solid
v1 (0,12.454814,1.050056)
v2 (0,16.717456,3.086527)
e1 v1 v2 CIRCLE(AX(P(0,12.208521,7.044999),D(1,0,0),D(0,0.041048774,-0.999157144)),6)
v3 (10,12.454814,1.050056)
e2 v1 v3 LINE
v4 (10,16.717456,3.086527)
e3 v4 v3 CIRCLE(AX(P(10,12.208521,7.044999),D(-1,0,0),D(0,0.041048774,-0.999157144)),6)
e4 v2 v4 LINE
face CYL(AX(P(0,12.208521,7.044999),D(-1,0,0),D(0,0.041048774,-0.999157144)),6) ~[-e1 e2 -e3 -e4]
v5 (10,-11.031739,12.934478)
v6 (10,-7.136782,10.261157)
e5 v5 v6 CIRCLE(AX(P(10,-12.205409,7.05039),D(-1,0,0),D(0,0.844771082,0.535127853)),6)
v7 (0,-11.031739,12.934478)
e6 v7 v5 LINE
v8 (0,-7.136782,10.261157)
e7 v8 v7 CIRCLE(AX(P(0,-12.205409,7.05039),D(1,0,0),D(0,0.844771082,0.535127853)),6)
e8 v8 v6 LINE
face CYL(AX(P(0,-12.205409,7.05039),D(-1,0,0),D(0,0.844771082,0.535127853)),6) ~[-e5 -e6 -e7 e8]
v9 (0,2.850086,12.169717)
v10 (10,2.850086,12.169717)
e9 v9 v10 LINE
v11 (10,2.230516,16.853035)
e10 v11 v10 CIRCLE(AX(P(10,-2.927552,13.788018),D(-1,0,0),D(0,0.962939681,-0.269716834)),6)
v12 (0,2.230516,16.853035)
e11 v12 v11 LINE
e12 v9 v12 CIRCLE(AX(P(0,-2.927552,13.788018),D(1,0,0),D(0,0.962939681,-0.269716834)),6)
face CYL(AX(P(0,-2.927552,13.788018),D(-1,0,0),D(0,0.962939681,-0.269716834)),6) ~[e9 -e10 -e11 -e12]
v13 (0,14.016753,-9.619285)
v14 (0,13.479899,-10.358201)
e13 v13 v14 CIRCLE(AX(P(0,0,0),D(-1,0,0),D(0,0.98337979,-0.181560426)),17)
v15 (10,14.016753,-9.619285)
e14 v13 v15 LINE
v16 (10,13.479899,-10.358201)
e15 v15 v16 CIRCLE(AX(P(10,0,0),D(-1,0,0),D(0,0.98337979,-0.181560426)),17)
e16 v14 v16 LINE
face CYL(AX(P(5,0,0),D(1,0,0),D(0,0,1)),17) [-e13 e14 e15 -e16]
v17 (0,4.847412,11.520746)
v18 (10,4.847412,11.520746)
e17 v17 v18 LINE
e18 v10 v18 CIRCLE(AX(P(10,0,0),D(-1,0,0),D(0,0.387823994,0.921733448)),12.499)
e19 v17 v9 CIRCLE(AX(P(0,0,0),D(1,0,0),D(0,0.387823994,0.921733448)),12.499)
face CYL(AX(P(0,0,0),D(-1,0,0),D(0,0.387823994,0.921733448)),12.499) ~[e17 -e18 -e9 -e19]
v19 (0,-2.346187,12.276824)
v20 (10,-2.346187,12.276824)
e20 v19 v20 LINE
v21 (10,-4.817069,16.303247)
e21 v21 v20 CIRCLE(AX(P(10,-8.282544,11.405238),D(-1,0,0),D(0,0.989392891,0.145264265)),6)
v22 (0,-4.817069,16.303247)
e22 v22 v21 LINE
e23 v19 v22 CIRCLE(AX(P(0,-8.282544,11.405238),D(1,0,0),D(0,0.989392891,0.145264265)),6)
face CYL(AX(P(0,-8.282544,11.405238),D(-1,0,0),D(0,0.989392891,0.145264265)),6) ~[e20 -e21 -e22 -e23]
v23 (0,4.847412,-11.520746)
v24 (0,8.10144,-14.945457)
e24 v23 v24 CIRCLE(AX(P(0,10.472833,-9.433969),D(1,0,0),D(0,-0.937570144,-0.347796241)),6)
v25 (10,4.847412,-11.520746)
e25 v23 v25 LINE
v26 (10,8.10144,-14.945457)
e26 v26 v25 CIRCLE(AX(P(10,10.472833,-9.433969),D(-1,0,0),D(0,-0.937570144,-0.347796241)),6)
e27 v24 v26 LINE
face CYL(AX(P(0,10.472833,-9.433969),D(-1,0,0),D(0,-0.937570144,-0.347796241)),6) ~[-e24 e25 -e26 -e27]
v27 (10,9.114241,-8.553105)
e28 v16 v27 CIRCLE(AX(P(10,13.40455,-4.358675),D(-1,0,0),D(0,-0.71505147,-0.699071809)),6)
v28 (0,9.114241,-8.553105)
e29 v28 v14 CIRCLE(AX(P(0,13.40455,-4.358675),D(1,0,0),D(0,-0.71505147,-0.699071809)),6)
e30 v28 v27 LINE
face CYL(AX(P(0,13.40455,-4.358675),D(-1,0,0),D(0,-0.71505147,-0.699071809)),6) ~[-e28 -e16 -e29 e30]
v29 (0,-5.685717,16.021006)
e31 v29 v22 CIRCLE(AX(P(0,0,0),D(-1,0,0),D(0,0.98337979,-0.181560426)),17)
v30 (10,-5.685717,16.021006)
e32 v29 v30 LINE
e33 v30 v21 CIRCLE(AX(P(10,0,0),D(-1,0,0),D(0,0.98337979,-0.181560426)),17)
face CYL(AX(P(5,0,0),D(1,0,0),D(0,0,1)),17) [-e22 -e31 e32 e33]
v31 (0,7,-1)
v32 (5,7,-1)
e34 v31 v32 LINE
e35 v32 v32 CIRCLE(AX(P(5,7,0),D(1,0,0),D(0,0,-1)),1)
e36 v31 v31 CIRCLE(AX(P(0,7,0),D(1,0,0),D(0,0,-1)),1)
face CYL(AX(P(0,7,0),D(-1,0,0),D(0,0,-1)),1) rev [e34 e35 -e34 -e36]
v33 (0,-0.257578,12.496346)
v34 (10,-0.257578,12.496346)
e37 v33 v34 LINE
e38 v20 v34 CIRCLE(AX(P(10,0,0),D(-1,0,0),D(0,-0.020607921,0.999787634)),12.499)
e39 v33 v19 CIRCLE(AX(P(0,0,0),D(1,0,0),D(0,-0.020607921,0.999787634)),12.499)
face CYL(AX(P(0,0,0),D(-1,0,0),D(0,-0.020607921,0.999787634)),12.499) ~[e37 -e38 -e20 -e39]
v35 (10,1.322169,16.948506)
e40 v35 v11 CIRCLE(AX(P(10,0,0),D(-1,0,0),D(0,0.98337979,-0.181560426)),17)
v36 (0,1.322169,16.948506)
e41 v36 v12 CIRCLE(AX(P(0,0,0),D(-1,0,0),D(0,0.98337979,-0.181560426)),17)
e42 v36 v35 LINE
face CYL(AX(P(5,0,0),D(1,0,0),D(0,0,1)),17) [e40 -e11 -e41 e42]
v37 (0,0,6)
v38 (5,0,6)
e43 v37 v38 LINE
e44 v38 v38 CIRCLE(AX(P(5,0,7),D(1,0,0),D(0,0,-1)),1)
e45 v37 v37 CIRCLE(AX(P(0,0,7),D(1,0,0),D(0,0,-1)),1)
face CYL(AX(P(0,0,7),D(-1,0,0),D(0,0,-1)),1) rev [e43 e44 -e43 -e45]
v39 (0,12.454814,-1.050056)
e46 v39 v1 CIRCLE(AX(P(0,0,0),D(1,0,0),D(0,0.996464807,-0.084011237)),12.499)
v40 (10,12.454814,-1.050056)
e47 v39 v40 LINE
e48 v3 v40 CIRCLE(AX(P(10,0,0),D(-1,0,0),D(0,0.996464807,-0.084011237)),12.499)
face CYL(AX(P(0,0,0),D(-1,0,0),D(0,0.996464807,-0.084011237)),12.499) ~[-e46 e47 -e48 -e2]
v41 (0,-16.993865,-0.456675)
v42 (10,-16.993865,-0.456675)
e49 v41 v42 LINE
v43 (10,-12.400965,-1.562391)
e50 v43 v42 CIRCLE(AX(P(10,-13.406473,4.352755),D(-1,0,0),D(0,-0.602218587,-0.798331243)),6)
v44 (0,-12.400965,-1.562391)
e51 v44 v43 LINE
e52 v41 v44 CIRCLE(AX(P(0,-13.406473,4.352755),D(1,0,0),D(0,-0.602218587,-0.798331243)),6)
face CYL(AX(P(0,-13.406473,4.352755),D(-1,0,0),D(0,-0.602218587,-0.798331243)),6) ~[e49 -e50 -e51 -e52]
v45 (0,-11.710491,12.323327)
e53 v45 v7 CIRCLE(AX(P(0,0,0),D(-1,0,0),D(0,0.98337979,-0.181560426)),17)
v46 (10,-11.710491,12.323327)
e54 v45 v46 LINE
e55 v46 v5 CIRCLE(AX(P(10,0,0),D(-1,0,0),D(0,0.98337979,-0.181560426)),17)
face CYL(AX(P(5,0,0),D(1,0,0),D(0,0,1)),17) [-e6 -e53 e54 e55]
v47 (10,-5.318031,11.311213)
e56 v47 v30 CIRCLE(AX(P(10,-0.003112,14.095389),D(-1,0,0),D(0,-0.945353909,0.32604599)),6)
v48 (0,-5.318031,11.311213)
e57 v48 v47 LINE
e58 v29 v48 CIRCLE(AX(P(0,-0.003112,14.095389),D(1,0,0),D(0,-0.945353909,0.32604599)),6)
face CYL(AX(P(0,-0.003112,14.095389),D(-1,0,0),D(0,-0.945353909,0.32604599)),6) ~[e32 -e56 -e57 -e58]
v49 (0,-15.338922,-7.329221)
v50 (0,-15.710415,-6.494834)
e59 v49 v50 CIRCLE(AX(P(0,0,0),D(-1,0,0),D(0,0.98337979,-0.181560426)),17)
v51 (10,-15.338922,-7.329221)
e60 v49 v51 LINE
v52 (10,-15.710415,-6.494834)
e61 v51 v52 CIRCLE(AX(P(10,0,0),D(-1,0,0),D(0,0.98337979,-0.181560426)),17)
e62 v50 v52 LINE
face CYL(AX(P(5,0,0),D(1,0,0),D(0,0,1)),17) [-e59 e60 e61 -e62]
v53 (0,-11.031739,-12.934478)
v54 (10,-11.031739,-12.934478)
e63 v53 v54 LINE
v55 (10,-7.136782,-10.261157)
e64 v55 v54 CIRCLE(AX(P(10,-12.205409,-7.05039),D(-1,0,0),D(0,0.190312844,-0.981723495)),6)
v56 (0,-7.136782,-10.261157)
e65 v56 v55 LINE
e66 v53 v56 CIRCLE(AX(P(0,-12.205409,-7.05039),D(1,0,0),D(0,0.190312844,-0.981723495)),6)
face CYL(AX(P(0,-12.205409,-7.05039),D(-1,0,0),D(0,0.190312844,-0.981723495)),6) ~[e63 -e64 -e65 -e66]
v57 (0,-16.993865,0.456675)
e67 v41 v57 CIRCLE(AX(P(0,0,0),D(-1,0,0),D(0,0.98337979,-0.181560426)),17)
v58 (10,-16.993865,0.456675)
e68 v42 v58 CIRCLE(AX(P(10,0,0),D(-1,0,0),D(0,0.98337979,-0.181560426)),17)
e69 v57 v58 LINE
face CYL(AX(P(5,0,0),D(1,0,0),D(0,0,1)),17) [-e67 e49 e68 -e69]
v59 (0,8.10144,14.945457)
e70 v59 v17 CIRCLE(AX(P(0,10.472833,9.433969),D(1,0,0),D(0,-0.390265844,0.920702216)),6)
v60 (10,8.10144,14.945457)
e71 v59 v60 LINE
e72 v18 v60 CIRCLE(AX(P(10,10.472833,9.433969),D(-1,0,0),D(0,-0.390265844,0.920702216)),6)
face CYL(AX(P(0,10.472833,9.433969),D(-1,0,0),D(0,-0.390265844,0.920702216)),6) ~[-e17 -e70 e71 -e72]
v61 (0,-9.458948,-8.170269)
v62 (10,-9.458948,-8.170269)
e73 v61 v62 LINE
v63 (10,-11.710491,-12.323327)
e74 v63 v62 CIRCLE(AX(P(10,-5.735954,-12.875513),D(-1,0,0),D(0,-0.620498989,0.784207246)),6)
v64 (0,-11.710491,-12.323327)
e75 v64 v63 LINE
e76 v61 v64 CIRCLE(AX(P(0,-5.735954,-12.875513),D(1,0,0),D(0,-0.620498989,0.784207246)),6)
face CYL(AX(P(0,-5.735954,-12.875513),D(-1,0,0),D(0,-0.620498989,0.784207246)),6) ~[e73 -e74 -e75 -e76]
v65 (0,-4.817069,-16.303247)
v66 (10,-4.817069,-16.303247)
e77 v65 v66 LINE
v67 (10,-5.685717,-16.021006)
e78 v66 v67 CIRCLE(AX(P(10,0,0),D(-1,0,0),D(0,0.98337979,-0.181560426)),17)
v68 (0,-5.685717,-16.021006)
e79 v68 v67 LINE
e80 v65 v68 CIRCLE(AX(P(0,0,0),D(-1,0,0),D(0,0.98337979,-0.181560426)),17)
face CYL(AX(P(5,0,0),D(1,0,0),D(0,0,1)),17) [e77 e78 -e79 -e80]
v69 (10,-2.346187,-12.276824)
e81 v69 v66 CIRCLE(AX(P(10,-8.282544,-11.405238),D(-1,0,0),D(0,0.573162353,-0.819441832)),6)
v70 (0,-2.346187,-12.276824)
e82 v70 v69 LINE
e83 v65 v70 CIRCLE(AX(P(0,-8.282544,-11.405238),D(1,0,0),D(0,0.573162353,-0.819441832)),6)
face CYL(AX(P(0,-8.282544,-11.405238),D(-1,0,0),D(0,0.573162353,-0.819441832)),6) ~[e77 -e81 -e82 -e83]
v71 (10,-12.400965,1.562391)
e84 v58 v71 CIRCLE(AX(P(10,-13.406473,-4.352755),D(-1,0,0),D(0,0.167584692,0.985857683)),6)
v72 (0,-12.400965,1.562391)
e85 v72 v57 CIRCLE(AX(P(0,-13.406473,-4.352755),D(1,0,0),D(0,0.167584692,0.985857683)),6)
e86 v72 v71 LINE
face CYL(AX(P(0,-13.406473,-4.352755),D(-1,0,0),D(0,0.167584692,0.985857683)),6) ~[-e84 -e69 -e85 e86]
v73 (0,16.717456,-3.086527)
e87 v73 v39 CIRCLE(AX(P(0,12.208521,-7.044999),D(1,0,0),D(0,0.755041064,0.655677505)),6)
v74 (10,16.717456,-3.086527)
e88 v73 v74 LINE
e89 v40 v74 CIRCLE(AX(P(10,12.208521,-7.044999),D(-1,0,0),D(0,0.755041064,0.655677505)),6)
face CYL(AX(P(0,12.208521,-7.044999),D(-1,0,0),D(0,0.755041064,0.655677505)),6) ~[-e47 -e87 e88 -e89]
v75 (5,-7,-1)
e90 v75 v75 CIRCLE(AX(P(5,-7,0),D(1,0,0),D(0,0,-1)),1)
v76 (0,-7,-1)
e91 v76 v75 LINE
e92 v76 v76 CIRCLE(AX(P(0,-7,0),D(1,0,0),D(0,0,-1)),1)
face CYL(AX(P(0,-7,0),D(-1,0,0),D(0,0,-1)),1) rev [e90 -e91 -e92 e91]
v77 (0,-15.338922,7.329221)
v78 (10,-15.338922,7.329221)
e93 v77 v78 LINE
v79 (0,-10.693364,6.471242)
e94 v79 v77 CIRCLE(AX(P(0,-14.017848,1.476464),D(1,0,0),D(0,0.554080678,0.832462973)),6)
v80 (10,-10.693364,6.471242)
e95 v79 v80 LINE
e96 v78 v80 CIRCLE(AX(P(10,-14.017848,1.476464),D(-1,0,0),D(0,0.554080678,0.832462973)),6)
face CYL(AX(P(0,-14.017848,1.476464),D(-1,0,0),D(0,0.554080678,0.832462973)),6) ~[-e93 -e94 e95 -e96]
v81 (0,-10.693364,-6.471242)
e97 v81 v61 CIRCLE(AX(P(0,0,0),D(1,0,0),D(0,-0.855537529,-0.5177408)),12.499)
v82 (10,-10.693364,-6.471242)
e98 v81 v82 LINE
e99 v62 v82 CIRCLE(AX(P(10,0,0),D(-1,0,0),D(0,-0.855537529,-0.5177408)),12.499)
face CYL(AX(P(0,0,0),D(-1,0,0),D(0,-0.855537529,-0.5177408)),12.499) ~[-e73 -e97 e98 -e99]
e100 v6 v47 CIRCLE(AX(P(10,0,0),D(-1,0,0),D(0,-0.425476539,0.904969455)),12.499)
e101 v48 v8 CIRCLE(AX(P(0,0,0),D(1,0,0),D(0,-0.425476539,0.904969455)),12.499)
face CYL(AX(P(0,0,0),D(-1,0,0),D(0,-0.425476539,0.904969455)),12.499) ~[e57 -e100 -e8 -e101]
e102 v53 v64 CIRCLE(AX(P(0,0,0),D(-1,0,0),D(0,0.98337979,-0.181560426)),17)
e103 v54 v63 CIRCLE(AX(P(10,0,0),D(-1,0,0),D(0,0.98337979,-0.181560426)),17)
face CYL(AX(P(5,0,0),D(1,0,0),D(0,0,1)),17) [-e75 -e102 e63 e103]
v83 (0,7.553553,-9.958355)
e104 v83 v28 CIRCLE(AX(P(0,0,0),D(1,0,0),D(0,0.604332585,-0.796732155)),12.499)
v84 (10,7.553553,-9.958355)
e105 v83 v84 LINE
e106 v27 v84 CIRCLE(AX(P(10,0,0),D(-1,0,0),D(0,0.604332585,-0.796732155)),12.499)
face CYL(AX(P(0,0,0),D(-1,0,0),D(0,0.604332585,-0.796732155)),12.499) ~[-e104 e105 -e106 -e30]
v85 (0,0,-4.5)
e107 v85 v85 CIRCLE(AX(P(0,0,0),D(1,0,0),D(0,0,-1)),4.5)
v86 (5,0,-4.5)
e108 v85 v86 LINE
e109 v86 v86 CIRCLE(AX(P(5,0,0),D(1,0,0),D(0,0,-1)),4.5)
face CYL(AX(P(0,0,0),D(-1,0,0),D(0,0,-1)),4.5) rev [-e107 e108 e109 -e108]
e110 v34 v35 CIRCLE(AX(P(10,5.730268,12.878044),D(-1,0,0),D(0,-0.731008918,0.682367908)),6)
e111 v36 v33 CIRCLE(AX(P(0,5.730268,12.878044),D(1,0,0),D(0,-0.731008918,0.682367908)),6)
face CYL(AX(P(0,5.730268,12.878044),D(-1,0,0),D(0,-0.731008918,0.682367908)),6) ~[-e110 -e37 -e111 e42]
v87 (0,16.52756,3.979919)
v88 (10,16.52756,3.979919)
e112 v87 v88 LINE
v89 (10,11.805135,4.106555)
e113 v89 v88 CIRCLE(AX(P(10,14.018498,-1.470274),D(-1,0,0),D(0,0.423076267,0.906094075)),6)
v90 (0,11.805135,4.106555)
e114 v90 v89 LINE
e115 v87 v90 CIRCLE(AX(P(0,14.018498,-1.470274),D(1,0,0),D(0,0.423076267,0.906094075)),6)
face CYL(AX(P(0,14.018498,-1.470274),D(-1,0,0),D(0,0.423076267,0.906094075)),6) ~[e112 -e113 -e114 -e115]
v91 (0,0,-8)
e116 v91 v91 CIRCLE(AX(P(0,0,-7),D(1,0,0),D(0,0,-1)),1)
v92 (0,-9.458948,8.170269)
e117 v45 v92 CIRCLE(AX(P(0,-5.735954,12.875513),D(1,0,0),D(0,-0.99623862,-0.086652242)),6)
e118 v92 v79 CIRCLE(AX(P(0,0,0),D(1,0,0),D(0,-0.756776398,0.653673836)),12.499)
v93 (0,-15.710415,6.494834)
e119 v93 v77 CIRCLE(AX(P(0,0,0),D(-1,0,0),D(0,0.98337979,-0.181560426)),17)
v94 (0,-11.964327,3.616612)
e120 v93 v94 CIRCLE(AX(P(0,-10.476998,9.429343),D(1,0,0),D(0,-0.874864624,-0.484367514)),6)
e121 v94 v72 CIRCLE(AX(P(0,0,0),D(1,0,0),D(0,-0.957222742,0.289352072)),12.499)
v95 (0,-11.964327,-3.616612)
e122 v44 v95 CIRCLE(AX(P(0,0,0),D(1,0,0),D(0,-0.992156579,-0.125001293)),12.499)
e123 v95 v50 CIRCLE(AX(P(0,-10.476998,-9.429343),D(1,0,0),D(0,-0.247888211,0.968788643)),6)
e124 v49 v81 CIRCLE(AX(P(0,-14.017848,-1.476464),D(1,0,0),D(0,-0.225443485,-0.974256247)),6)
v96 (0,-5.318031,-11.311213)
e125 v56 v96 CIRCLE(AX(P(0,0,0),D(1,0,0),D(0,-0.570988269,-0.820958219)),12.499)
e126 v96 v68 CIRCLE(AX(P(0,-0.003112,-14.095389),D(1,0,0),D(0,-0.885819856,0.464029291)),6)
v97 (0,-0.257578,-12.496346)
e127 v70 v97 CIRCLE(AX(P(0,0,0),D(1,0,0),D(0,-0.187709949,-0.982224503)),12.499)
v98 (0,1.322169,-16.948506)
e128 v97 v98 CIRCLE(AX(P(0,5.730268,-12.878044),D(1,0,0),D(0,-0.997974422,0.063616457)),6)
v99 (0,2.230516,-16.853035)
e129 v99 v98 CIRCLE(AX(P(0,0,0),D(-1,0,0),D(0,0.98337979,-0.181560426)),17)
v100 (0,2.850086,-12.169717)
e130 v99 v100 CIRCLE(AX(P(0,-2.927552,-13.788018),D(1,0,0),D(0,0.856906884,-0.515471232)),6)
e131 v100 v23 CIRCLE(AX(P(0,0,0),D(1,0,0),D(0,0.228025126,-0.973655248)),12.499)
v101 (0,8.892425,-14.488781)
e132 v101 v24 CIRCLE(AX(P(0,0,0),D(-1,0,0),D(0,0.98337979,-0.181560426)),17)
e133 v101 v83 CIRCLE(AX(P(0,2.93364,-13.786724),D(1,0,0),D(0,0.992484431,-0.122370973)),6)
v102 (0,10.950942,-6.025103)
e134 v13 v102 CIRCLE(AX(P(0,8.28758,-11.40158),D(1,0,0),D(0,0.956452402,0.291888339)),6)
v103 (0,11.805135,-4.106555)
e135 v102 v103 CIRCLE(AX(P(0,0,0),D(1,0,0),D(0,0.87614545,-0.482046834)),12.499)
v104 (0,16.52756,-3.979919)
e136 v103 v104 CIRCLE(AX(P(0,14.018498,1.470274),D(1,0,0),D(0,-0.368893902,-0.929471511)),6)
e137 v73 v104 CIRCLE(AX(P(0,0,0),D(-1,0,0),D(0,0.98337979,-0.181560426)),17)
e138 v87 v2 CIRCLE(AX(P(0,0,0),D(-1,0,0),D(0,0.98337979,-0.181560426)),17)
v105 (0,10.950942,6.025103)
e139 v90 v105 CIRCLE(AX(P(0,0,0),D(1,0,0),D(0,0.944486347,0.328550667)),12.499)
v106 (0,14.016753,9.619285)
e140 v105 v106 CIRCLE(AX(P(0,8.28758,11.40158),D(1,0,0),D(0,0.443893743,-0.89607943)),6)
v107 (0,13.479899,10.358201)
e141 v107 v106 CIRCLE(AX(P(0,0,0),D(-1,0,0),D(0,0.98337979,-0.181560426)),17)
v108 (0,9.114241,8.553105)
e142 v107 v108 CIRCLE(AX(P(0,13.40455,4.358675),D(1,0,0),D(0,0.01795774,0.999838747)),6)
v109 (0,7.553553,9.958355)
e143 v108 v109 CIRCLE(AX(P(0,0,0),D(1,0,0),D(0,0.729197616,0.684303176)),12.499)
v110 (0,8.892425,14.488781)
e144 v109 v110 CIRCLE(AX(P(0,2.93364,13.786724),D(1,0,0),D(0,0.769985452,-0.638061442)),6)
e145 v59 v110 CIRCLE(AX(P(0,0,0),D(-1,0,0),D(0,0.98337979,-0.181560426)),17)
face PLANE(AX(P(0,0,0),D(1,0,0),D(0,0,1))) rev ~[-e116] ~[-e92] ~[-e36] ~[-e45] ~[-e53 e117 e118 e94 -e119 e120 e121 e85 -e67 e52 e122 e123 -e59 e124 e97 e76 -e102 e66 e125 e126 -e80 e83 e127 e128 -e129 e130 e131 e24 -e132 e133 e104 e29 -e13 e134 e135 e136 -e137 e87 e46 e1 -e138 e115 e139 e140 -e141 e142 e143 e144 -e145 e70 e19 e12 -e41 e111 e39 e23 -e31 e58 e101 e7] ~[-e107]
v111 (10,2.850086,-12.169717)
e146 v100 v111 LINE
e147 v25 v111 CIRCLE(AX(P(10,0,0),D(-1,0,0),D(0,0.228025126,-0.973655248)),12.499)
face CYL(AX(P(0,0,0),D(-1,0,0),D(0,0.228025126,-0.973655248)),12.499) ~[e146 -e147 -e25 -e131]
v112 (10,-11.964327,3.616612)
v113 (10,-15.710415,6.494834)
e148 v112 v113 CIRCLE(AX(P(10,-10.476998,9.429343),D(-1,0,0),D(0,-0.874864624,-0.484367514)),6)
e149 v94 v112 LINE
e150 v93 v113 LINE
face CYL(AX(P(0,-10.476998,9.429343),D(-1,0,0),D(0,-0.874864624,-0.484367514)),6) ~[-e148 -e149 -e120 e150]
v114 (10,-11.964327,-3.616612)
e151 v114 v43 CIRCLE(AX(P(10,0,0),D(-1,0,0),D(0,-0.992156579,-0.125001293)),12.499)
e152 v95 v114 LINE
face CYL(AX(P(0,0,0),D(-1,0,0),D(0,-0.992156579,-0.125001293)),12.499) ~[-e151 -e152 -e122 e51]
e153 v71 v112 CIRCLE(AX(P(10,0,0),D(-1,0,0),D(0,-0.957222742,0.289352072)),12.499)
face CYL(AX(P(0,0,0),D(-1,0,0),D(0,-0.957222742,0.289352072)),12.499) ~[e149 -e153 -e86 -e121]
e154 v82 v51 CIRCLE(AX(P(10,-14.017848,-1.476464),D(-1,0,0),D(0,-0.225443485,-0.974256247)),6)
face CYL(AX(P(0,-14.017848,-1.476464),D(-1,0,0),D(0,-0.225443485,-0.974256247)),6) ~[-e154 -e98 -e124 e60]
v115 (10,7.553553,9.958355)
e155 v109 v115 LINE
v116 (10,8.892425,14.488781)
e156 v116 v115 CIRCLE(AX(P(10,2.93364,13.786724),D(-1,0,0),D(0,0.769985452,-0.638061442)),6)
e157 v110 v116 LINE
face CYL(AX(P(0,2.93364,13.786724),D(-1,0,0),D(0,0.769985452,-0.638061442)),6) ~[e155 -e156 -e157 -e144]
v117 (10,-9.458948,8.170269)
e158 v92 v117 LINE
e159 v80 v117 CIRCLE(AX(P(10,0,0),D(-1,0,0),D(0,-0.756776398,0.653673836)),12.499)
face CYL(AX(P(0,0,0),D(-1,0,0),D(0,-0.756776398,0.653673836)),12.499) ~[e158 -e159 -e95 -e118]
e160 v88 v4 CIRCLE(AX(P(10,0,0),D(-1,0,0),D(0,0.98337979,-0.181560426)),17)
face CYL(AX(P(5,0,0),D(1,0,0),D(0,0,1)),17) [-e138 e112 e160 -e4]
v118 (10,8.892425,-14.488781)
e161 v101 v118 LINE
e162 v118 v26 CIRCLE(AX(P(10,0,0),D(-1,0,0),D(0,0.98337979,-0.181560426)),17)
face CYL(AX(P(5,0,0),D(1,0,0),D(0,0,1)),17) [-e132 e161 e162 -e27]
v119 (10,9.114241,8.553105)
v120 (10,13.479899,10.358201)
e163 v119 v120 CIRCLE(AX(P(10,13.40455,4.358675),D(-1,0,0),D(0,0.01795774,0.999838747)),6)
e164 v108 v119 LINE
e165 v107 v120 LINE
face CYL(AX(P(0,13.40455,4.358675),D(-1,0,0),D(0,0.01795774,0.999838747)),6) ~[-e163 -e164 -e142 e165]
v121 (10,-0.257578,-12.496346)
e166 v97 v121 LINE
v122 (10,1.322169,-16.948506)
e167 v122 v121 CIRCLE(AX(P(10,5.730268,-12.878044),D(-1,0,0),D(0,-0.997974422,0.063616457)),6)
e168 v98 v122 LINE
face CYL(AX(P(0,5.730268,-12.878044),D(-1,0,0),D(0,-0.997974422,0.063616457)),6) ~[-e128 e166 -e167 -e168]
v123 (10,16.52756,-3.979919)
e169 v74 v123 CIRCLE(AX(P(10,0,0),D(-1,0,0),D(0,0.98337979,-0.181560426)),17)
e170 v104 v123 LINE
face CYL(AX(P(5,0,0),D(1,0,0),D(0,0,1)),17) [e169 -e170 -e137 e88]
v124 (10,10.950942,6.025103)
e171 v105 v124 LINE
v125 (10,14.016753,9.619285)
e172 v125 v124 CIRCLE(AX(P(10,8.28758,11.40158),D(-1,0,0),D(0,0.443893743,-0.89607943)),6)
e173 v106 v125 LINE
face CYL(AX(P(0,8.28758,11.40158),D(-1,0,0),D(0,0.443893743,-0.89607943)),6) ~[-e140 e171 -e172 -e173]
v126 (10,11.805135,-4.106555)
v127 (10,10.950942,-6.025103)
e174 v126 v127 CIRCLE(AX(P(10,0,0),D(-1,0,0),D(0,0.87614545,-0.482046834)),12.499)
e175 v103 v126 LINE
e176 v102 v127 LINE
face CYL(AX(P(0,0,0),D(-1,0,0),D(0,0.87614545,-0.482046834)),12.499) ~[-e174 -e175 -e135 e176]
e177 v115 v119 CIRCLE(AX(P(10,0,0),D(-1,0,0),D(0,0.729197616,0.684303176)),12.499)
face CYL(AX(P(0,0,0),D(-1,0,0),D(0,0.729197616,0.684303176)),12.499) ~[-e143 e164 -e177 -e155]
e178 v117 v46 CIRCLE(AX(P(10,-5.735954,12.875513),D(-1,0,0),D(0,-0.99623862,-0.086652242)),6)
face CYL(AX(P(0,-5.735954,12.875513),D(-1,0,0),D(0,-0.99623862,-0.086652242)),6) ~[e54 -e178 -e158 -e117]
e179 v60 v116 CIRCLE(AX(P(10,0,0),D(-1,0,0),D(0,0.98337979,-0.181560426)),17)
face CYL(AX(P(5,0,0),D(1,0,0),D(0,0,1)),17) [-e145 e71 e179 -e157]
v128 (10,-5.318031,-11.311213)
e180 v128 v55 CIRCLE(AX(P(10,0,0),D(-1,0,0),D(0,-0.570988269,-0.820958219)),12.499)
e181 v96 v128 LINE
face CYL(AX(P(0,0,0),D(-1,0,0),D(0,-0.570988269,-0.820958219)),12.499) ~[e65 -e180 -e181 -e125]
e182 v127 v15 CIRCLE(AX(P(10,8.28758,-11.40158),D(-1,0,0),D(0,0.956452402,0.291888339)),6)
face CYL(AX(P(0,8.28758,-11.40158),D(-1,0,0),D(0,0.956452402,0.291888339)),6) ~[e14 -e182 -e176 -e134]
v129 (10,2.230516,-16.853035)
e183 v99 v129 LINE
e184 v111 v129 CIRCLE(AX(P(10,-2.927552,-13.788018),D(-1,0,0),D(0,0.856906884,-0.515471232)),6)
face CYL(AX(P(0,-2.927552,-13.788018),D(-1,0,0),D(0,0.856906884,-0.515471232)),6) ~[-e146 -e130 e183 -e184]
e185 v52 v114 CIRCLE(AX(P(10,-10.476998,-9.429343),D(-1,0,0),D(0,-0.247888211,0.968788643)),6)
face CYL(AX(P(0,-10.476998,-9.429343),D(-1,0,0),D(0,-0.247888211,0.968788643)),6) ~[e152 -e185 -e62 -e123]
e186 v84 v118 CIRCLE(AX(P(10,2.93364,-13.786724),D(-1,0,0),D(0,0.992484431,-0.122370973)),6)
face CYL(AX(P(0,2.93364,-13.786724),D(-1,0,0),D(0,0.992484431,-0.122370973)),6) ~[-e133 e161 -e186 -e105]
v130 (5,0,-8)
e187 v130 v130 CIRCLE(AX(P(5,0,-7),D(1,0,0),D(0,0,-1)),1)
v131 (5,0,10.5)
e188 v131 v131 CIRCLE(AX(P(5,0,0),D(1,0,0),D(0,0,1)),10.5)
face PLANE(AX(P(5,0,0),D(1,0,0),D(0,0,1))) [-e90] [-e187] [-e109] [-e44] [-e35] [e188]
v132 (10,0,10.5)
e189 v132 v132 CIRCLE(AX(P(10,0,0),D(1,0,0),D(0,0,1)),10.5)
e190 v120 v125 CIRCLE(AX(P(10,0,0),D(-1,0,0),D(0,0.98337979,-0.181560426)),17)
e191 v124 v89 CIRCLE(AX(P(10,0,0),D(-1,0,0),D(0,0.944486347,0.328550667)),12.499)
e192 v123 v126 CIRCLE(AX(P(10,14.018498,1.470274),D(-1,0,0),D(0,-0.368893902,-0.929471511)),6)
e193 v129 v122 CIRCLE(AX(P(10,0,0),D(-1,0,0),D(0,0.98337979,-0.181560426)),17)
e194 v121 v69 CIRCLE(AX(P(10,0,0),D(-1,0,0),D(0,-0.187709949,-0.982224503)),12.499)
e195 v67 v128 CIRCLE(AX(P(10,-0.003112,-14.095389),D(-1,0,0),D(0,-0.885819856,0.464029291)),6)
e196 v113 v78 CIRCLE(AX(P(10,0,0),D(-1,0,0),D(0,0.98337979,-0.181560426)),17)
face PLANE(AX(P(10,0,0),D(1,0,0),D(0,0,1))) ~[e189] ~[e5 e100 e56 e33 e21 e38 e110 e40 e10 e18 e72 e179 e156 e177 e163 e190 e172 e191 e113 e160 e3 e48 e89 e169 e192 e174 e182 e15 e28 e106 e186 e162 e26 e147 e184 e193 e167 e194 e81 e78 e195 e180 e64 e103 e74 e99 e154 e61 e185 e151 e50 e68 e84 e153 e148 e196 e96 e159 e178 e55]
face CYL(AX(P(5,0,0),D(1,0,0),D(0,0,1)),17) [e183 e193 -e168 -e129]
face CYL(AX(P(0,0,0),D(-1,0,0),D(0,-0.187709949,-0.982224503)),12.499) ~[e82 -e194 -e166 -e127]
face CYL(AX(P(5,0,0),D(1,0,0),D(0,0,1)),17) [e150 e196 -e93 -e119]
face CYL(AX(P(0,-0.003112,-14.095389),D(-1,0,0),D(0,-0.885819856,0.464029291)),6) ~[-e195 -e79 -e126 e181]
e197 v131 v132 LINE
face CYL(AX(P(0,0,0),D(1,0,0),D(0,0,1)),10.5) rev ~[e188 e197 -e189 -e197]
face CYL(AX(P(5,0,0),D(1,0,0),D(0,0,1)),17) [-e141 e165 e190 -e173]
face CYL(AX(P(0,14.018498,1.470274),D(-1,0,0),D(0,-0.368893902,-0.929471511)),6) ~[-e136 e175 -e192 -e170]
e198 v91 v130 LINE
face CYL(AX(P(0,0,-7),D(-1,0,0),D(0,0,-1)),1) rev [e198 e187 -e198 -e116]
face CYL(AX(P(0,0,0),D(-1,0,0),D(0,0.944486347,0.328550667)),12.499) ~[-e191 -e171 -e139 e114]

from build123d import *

# Parameters (mm, degrees)
BASPROSKE_W         = 10
BASPROSKE_H         = 17
TOOTHCUT_DEPTH      = 27.038433133
TEETHCUTS_COUNT     = 15
BORSKE_R            = 10.5
BORE_DEPTH          = 10
SKETCH1_R           = 10.5
SKETCH1_R_2         = 1
SKETCH1_R_3         = 4.5
BOSS_EXTRUDE1_DEPTH = 5


with BuildPart() as part:
    # BasProSke → Base-Revolve (revolve)
    with BuildSketch(Plane(origin=(0, 0, 0), x_dir=(1, 0, 0), z_dir=(0, 1, 0)), mode=Mode.PRIVATE) as base_revolve_sk:
        with Locations((5, 8.5)):
            Rectangle(BASPROSKE_W, BASPROSKE_H)
    revolve(base_revolve_sk.sketch.rotate(Axis((-10, 0, 0), (1, 0, 0)), 180), axis=Axis((-10, 0, 0), (1, 0, 0)))

    # TooCutSke → ToothCut (cut, through all)
    with BuildSketch(Plane(origin=(0, 0, 0), x_dir=(0, 0, -1), z_dir=(1, 0, 0))):
        with BuildLine():
            ThreePointArc((1.050056448, 12.454813626), (0, 12.499), (-1.050056448, 12.454813626))
            ThreePointArc((-1.050056448, 12.454813626), (-1.638118106, 14.809604533), (-3.110934279, 16.73876737))
            ThreePointArc((-3.110934279, 16.73876737), (0, 17.0254), (3.110934279, 16.73876737))
            ThreePointArc((3.110934279, 16.73876737), (1.638118106, 14.809604533), (1.050056448, 12.454813626))
        make_face()
    toothcut = extrude(amount=TOOTHCUT_DEPTH, mode=Mode.SUBTRACT)

    # TeethCuts: ToothCut ×15 about axis
    teethcuts_axis = Axis((0, 0, 0), (1, 0, 0))
    for i in range(1, TEETHCUTS_COUNT):
        add(toothcut.rotate(teethcuts_axis, i * 360 / TEETHCUTS_COUNT), mode=Mode.SUBTRACT)

    # BorSke → Bore (cut, symmetric)
    with BuildSketch(Plane(origin=(0, 0, 0), x_dir=(0, 0, -1), z_dir=(1, 0, 0))):
        with Locations(Location((0, 0, 0), (0, 0, 180))):
            Circle(BORSKE_R)
    extrude(amount=BORE_DEPTH, both=True, mode=Mode.SUBTRACT)

    # Sketch1 → Boss-Extrude1 (add)
    with BuildSketch(Plane(origin=(0, 0, 0), x_dir=(0, 0, -1), z_dir=(1, 0, 0))):
        with Locations(Location((0, 0, 0), (0, 0, 180))):
            Circle(SKETCH1_R)
        with Locations((7, 0)):
            Circle(SKETCH1_R_2, mode=Mode.SUBTRACT)
        with Locations((-7, 0)):
            Circle(SKETCH1_R_2, mode=Mode.SUBTRACT)
        with Locations((0, 7)):
            Circle(SKETCH1_R_2, mode=Mode.SUBTRACT)
        with Locations((0, -7)):
            Circle(SKETCH1_R_2, mode=Mode.SUBTRACT)
        Circle(SKETCH1_R_3, mode=Mode.SUBTRACT)
    extrude(amount=BOSS_EXTRUDE1_DEPTH)


solid = part.part
